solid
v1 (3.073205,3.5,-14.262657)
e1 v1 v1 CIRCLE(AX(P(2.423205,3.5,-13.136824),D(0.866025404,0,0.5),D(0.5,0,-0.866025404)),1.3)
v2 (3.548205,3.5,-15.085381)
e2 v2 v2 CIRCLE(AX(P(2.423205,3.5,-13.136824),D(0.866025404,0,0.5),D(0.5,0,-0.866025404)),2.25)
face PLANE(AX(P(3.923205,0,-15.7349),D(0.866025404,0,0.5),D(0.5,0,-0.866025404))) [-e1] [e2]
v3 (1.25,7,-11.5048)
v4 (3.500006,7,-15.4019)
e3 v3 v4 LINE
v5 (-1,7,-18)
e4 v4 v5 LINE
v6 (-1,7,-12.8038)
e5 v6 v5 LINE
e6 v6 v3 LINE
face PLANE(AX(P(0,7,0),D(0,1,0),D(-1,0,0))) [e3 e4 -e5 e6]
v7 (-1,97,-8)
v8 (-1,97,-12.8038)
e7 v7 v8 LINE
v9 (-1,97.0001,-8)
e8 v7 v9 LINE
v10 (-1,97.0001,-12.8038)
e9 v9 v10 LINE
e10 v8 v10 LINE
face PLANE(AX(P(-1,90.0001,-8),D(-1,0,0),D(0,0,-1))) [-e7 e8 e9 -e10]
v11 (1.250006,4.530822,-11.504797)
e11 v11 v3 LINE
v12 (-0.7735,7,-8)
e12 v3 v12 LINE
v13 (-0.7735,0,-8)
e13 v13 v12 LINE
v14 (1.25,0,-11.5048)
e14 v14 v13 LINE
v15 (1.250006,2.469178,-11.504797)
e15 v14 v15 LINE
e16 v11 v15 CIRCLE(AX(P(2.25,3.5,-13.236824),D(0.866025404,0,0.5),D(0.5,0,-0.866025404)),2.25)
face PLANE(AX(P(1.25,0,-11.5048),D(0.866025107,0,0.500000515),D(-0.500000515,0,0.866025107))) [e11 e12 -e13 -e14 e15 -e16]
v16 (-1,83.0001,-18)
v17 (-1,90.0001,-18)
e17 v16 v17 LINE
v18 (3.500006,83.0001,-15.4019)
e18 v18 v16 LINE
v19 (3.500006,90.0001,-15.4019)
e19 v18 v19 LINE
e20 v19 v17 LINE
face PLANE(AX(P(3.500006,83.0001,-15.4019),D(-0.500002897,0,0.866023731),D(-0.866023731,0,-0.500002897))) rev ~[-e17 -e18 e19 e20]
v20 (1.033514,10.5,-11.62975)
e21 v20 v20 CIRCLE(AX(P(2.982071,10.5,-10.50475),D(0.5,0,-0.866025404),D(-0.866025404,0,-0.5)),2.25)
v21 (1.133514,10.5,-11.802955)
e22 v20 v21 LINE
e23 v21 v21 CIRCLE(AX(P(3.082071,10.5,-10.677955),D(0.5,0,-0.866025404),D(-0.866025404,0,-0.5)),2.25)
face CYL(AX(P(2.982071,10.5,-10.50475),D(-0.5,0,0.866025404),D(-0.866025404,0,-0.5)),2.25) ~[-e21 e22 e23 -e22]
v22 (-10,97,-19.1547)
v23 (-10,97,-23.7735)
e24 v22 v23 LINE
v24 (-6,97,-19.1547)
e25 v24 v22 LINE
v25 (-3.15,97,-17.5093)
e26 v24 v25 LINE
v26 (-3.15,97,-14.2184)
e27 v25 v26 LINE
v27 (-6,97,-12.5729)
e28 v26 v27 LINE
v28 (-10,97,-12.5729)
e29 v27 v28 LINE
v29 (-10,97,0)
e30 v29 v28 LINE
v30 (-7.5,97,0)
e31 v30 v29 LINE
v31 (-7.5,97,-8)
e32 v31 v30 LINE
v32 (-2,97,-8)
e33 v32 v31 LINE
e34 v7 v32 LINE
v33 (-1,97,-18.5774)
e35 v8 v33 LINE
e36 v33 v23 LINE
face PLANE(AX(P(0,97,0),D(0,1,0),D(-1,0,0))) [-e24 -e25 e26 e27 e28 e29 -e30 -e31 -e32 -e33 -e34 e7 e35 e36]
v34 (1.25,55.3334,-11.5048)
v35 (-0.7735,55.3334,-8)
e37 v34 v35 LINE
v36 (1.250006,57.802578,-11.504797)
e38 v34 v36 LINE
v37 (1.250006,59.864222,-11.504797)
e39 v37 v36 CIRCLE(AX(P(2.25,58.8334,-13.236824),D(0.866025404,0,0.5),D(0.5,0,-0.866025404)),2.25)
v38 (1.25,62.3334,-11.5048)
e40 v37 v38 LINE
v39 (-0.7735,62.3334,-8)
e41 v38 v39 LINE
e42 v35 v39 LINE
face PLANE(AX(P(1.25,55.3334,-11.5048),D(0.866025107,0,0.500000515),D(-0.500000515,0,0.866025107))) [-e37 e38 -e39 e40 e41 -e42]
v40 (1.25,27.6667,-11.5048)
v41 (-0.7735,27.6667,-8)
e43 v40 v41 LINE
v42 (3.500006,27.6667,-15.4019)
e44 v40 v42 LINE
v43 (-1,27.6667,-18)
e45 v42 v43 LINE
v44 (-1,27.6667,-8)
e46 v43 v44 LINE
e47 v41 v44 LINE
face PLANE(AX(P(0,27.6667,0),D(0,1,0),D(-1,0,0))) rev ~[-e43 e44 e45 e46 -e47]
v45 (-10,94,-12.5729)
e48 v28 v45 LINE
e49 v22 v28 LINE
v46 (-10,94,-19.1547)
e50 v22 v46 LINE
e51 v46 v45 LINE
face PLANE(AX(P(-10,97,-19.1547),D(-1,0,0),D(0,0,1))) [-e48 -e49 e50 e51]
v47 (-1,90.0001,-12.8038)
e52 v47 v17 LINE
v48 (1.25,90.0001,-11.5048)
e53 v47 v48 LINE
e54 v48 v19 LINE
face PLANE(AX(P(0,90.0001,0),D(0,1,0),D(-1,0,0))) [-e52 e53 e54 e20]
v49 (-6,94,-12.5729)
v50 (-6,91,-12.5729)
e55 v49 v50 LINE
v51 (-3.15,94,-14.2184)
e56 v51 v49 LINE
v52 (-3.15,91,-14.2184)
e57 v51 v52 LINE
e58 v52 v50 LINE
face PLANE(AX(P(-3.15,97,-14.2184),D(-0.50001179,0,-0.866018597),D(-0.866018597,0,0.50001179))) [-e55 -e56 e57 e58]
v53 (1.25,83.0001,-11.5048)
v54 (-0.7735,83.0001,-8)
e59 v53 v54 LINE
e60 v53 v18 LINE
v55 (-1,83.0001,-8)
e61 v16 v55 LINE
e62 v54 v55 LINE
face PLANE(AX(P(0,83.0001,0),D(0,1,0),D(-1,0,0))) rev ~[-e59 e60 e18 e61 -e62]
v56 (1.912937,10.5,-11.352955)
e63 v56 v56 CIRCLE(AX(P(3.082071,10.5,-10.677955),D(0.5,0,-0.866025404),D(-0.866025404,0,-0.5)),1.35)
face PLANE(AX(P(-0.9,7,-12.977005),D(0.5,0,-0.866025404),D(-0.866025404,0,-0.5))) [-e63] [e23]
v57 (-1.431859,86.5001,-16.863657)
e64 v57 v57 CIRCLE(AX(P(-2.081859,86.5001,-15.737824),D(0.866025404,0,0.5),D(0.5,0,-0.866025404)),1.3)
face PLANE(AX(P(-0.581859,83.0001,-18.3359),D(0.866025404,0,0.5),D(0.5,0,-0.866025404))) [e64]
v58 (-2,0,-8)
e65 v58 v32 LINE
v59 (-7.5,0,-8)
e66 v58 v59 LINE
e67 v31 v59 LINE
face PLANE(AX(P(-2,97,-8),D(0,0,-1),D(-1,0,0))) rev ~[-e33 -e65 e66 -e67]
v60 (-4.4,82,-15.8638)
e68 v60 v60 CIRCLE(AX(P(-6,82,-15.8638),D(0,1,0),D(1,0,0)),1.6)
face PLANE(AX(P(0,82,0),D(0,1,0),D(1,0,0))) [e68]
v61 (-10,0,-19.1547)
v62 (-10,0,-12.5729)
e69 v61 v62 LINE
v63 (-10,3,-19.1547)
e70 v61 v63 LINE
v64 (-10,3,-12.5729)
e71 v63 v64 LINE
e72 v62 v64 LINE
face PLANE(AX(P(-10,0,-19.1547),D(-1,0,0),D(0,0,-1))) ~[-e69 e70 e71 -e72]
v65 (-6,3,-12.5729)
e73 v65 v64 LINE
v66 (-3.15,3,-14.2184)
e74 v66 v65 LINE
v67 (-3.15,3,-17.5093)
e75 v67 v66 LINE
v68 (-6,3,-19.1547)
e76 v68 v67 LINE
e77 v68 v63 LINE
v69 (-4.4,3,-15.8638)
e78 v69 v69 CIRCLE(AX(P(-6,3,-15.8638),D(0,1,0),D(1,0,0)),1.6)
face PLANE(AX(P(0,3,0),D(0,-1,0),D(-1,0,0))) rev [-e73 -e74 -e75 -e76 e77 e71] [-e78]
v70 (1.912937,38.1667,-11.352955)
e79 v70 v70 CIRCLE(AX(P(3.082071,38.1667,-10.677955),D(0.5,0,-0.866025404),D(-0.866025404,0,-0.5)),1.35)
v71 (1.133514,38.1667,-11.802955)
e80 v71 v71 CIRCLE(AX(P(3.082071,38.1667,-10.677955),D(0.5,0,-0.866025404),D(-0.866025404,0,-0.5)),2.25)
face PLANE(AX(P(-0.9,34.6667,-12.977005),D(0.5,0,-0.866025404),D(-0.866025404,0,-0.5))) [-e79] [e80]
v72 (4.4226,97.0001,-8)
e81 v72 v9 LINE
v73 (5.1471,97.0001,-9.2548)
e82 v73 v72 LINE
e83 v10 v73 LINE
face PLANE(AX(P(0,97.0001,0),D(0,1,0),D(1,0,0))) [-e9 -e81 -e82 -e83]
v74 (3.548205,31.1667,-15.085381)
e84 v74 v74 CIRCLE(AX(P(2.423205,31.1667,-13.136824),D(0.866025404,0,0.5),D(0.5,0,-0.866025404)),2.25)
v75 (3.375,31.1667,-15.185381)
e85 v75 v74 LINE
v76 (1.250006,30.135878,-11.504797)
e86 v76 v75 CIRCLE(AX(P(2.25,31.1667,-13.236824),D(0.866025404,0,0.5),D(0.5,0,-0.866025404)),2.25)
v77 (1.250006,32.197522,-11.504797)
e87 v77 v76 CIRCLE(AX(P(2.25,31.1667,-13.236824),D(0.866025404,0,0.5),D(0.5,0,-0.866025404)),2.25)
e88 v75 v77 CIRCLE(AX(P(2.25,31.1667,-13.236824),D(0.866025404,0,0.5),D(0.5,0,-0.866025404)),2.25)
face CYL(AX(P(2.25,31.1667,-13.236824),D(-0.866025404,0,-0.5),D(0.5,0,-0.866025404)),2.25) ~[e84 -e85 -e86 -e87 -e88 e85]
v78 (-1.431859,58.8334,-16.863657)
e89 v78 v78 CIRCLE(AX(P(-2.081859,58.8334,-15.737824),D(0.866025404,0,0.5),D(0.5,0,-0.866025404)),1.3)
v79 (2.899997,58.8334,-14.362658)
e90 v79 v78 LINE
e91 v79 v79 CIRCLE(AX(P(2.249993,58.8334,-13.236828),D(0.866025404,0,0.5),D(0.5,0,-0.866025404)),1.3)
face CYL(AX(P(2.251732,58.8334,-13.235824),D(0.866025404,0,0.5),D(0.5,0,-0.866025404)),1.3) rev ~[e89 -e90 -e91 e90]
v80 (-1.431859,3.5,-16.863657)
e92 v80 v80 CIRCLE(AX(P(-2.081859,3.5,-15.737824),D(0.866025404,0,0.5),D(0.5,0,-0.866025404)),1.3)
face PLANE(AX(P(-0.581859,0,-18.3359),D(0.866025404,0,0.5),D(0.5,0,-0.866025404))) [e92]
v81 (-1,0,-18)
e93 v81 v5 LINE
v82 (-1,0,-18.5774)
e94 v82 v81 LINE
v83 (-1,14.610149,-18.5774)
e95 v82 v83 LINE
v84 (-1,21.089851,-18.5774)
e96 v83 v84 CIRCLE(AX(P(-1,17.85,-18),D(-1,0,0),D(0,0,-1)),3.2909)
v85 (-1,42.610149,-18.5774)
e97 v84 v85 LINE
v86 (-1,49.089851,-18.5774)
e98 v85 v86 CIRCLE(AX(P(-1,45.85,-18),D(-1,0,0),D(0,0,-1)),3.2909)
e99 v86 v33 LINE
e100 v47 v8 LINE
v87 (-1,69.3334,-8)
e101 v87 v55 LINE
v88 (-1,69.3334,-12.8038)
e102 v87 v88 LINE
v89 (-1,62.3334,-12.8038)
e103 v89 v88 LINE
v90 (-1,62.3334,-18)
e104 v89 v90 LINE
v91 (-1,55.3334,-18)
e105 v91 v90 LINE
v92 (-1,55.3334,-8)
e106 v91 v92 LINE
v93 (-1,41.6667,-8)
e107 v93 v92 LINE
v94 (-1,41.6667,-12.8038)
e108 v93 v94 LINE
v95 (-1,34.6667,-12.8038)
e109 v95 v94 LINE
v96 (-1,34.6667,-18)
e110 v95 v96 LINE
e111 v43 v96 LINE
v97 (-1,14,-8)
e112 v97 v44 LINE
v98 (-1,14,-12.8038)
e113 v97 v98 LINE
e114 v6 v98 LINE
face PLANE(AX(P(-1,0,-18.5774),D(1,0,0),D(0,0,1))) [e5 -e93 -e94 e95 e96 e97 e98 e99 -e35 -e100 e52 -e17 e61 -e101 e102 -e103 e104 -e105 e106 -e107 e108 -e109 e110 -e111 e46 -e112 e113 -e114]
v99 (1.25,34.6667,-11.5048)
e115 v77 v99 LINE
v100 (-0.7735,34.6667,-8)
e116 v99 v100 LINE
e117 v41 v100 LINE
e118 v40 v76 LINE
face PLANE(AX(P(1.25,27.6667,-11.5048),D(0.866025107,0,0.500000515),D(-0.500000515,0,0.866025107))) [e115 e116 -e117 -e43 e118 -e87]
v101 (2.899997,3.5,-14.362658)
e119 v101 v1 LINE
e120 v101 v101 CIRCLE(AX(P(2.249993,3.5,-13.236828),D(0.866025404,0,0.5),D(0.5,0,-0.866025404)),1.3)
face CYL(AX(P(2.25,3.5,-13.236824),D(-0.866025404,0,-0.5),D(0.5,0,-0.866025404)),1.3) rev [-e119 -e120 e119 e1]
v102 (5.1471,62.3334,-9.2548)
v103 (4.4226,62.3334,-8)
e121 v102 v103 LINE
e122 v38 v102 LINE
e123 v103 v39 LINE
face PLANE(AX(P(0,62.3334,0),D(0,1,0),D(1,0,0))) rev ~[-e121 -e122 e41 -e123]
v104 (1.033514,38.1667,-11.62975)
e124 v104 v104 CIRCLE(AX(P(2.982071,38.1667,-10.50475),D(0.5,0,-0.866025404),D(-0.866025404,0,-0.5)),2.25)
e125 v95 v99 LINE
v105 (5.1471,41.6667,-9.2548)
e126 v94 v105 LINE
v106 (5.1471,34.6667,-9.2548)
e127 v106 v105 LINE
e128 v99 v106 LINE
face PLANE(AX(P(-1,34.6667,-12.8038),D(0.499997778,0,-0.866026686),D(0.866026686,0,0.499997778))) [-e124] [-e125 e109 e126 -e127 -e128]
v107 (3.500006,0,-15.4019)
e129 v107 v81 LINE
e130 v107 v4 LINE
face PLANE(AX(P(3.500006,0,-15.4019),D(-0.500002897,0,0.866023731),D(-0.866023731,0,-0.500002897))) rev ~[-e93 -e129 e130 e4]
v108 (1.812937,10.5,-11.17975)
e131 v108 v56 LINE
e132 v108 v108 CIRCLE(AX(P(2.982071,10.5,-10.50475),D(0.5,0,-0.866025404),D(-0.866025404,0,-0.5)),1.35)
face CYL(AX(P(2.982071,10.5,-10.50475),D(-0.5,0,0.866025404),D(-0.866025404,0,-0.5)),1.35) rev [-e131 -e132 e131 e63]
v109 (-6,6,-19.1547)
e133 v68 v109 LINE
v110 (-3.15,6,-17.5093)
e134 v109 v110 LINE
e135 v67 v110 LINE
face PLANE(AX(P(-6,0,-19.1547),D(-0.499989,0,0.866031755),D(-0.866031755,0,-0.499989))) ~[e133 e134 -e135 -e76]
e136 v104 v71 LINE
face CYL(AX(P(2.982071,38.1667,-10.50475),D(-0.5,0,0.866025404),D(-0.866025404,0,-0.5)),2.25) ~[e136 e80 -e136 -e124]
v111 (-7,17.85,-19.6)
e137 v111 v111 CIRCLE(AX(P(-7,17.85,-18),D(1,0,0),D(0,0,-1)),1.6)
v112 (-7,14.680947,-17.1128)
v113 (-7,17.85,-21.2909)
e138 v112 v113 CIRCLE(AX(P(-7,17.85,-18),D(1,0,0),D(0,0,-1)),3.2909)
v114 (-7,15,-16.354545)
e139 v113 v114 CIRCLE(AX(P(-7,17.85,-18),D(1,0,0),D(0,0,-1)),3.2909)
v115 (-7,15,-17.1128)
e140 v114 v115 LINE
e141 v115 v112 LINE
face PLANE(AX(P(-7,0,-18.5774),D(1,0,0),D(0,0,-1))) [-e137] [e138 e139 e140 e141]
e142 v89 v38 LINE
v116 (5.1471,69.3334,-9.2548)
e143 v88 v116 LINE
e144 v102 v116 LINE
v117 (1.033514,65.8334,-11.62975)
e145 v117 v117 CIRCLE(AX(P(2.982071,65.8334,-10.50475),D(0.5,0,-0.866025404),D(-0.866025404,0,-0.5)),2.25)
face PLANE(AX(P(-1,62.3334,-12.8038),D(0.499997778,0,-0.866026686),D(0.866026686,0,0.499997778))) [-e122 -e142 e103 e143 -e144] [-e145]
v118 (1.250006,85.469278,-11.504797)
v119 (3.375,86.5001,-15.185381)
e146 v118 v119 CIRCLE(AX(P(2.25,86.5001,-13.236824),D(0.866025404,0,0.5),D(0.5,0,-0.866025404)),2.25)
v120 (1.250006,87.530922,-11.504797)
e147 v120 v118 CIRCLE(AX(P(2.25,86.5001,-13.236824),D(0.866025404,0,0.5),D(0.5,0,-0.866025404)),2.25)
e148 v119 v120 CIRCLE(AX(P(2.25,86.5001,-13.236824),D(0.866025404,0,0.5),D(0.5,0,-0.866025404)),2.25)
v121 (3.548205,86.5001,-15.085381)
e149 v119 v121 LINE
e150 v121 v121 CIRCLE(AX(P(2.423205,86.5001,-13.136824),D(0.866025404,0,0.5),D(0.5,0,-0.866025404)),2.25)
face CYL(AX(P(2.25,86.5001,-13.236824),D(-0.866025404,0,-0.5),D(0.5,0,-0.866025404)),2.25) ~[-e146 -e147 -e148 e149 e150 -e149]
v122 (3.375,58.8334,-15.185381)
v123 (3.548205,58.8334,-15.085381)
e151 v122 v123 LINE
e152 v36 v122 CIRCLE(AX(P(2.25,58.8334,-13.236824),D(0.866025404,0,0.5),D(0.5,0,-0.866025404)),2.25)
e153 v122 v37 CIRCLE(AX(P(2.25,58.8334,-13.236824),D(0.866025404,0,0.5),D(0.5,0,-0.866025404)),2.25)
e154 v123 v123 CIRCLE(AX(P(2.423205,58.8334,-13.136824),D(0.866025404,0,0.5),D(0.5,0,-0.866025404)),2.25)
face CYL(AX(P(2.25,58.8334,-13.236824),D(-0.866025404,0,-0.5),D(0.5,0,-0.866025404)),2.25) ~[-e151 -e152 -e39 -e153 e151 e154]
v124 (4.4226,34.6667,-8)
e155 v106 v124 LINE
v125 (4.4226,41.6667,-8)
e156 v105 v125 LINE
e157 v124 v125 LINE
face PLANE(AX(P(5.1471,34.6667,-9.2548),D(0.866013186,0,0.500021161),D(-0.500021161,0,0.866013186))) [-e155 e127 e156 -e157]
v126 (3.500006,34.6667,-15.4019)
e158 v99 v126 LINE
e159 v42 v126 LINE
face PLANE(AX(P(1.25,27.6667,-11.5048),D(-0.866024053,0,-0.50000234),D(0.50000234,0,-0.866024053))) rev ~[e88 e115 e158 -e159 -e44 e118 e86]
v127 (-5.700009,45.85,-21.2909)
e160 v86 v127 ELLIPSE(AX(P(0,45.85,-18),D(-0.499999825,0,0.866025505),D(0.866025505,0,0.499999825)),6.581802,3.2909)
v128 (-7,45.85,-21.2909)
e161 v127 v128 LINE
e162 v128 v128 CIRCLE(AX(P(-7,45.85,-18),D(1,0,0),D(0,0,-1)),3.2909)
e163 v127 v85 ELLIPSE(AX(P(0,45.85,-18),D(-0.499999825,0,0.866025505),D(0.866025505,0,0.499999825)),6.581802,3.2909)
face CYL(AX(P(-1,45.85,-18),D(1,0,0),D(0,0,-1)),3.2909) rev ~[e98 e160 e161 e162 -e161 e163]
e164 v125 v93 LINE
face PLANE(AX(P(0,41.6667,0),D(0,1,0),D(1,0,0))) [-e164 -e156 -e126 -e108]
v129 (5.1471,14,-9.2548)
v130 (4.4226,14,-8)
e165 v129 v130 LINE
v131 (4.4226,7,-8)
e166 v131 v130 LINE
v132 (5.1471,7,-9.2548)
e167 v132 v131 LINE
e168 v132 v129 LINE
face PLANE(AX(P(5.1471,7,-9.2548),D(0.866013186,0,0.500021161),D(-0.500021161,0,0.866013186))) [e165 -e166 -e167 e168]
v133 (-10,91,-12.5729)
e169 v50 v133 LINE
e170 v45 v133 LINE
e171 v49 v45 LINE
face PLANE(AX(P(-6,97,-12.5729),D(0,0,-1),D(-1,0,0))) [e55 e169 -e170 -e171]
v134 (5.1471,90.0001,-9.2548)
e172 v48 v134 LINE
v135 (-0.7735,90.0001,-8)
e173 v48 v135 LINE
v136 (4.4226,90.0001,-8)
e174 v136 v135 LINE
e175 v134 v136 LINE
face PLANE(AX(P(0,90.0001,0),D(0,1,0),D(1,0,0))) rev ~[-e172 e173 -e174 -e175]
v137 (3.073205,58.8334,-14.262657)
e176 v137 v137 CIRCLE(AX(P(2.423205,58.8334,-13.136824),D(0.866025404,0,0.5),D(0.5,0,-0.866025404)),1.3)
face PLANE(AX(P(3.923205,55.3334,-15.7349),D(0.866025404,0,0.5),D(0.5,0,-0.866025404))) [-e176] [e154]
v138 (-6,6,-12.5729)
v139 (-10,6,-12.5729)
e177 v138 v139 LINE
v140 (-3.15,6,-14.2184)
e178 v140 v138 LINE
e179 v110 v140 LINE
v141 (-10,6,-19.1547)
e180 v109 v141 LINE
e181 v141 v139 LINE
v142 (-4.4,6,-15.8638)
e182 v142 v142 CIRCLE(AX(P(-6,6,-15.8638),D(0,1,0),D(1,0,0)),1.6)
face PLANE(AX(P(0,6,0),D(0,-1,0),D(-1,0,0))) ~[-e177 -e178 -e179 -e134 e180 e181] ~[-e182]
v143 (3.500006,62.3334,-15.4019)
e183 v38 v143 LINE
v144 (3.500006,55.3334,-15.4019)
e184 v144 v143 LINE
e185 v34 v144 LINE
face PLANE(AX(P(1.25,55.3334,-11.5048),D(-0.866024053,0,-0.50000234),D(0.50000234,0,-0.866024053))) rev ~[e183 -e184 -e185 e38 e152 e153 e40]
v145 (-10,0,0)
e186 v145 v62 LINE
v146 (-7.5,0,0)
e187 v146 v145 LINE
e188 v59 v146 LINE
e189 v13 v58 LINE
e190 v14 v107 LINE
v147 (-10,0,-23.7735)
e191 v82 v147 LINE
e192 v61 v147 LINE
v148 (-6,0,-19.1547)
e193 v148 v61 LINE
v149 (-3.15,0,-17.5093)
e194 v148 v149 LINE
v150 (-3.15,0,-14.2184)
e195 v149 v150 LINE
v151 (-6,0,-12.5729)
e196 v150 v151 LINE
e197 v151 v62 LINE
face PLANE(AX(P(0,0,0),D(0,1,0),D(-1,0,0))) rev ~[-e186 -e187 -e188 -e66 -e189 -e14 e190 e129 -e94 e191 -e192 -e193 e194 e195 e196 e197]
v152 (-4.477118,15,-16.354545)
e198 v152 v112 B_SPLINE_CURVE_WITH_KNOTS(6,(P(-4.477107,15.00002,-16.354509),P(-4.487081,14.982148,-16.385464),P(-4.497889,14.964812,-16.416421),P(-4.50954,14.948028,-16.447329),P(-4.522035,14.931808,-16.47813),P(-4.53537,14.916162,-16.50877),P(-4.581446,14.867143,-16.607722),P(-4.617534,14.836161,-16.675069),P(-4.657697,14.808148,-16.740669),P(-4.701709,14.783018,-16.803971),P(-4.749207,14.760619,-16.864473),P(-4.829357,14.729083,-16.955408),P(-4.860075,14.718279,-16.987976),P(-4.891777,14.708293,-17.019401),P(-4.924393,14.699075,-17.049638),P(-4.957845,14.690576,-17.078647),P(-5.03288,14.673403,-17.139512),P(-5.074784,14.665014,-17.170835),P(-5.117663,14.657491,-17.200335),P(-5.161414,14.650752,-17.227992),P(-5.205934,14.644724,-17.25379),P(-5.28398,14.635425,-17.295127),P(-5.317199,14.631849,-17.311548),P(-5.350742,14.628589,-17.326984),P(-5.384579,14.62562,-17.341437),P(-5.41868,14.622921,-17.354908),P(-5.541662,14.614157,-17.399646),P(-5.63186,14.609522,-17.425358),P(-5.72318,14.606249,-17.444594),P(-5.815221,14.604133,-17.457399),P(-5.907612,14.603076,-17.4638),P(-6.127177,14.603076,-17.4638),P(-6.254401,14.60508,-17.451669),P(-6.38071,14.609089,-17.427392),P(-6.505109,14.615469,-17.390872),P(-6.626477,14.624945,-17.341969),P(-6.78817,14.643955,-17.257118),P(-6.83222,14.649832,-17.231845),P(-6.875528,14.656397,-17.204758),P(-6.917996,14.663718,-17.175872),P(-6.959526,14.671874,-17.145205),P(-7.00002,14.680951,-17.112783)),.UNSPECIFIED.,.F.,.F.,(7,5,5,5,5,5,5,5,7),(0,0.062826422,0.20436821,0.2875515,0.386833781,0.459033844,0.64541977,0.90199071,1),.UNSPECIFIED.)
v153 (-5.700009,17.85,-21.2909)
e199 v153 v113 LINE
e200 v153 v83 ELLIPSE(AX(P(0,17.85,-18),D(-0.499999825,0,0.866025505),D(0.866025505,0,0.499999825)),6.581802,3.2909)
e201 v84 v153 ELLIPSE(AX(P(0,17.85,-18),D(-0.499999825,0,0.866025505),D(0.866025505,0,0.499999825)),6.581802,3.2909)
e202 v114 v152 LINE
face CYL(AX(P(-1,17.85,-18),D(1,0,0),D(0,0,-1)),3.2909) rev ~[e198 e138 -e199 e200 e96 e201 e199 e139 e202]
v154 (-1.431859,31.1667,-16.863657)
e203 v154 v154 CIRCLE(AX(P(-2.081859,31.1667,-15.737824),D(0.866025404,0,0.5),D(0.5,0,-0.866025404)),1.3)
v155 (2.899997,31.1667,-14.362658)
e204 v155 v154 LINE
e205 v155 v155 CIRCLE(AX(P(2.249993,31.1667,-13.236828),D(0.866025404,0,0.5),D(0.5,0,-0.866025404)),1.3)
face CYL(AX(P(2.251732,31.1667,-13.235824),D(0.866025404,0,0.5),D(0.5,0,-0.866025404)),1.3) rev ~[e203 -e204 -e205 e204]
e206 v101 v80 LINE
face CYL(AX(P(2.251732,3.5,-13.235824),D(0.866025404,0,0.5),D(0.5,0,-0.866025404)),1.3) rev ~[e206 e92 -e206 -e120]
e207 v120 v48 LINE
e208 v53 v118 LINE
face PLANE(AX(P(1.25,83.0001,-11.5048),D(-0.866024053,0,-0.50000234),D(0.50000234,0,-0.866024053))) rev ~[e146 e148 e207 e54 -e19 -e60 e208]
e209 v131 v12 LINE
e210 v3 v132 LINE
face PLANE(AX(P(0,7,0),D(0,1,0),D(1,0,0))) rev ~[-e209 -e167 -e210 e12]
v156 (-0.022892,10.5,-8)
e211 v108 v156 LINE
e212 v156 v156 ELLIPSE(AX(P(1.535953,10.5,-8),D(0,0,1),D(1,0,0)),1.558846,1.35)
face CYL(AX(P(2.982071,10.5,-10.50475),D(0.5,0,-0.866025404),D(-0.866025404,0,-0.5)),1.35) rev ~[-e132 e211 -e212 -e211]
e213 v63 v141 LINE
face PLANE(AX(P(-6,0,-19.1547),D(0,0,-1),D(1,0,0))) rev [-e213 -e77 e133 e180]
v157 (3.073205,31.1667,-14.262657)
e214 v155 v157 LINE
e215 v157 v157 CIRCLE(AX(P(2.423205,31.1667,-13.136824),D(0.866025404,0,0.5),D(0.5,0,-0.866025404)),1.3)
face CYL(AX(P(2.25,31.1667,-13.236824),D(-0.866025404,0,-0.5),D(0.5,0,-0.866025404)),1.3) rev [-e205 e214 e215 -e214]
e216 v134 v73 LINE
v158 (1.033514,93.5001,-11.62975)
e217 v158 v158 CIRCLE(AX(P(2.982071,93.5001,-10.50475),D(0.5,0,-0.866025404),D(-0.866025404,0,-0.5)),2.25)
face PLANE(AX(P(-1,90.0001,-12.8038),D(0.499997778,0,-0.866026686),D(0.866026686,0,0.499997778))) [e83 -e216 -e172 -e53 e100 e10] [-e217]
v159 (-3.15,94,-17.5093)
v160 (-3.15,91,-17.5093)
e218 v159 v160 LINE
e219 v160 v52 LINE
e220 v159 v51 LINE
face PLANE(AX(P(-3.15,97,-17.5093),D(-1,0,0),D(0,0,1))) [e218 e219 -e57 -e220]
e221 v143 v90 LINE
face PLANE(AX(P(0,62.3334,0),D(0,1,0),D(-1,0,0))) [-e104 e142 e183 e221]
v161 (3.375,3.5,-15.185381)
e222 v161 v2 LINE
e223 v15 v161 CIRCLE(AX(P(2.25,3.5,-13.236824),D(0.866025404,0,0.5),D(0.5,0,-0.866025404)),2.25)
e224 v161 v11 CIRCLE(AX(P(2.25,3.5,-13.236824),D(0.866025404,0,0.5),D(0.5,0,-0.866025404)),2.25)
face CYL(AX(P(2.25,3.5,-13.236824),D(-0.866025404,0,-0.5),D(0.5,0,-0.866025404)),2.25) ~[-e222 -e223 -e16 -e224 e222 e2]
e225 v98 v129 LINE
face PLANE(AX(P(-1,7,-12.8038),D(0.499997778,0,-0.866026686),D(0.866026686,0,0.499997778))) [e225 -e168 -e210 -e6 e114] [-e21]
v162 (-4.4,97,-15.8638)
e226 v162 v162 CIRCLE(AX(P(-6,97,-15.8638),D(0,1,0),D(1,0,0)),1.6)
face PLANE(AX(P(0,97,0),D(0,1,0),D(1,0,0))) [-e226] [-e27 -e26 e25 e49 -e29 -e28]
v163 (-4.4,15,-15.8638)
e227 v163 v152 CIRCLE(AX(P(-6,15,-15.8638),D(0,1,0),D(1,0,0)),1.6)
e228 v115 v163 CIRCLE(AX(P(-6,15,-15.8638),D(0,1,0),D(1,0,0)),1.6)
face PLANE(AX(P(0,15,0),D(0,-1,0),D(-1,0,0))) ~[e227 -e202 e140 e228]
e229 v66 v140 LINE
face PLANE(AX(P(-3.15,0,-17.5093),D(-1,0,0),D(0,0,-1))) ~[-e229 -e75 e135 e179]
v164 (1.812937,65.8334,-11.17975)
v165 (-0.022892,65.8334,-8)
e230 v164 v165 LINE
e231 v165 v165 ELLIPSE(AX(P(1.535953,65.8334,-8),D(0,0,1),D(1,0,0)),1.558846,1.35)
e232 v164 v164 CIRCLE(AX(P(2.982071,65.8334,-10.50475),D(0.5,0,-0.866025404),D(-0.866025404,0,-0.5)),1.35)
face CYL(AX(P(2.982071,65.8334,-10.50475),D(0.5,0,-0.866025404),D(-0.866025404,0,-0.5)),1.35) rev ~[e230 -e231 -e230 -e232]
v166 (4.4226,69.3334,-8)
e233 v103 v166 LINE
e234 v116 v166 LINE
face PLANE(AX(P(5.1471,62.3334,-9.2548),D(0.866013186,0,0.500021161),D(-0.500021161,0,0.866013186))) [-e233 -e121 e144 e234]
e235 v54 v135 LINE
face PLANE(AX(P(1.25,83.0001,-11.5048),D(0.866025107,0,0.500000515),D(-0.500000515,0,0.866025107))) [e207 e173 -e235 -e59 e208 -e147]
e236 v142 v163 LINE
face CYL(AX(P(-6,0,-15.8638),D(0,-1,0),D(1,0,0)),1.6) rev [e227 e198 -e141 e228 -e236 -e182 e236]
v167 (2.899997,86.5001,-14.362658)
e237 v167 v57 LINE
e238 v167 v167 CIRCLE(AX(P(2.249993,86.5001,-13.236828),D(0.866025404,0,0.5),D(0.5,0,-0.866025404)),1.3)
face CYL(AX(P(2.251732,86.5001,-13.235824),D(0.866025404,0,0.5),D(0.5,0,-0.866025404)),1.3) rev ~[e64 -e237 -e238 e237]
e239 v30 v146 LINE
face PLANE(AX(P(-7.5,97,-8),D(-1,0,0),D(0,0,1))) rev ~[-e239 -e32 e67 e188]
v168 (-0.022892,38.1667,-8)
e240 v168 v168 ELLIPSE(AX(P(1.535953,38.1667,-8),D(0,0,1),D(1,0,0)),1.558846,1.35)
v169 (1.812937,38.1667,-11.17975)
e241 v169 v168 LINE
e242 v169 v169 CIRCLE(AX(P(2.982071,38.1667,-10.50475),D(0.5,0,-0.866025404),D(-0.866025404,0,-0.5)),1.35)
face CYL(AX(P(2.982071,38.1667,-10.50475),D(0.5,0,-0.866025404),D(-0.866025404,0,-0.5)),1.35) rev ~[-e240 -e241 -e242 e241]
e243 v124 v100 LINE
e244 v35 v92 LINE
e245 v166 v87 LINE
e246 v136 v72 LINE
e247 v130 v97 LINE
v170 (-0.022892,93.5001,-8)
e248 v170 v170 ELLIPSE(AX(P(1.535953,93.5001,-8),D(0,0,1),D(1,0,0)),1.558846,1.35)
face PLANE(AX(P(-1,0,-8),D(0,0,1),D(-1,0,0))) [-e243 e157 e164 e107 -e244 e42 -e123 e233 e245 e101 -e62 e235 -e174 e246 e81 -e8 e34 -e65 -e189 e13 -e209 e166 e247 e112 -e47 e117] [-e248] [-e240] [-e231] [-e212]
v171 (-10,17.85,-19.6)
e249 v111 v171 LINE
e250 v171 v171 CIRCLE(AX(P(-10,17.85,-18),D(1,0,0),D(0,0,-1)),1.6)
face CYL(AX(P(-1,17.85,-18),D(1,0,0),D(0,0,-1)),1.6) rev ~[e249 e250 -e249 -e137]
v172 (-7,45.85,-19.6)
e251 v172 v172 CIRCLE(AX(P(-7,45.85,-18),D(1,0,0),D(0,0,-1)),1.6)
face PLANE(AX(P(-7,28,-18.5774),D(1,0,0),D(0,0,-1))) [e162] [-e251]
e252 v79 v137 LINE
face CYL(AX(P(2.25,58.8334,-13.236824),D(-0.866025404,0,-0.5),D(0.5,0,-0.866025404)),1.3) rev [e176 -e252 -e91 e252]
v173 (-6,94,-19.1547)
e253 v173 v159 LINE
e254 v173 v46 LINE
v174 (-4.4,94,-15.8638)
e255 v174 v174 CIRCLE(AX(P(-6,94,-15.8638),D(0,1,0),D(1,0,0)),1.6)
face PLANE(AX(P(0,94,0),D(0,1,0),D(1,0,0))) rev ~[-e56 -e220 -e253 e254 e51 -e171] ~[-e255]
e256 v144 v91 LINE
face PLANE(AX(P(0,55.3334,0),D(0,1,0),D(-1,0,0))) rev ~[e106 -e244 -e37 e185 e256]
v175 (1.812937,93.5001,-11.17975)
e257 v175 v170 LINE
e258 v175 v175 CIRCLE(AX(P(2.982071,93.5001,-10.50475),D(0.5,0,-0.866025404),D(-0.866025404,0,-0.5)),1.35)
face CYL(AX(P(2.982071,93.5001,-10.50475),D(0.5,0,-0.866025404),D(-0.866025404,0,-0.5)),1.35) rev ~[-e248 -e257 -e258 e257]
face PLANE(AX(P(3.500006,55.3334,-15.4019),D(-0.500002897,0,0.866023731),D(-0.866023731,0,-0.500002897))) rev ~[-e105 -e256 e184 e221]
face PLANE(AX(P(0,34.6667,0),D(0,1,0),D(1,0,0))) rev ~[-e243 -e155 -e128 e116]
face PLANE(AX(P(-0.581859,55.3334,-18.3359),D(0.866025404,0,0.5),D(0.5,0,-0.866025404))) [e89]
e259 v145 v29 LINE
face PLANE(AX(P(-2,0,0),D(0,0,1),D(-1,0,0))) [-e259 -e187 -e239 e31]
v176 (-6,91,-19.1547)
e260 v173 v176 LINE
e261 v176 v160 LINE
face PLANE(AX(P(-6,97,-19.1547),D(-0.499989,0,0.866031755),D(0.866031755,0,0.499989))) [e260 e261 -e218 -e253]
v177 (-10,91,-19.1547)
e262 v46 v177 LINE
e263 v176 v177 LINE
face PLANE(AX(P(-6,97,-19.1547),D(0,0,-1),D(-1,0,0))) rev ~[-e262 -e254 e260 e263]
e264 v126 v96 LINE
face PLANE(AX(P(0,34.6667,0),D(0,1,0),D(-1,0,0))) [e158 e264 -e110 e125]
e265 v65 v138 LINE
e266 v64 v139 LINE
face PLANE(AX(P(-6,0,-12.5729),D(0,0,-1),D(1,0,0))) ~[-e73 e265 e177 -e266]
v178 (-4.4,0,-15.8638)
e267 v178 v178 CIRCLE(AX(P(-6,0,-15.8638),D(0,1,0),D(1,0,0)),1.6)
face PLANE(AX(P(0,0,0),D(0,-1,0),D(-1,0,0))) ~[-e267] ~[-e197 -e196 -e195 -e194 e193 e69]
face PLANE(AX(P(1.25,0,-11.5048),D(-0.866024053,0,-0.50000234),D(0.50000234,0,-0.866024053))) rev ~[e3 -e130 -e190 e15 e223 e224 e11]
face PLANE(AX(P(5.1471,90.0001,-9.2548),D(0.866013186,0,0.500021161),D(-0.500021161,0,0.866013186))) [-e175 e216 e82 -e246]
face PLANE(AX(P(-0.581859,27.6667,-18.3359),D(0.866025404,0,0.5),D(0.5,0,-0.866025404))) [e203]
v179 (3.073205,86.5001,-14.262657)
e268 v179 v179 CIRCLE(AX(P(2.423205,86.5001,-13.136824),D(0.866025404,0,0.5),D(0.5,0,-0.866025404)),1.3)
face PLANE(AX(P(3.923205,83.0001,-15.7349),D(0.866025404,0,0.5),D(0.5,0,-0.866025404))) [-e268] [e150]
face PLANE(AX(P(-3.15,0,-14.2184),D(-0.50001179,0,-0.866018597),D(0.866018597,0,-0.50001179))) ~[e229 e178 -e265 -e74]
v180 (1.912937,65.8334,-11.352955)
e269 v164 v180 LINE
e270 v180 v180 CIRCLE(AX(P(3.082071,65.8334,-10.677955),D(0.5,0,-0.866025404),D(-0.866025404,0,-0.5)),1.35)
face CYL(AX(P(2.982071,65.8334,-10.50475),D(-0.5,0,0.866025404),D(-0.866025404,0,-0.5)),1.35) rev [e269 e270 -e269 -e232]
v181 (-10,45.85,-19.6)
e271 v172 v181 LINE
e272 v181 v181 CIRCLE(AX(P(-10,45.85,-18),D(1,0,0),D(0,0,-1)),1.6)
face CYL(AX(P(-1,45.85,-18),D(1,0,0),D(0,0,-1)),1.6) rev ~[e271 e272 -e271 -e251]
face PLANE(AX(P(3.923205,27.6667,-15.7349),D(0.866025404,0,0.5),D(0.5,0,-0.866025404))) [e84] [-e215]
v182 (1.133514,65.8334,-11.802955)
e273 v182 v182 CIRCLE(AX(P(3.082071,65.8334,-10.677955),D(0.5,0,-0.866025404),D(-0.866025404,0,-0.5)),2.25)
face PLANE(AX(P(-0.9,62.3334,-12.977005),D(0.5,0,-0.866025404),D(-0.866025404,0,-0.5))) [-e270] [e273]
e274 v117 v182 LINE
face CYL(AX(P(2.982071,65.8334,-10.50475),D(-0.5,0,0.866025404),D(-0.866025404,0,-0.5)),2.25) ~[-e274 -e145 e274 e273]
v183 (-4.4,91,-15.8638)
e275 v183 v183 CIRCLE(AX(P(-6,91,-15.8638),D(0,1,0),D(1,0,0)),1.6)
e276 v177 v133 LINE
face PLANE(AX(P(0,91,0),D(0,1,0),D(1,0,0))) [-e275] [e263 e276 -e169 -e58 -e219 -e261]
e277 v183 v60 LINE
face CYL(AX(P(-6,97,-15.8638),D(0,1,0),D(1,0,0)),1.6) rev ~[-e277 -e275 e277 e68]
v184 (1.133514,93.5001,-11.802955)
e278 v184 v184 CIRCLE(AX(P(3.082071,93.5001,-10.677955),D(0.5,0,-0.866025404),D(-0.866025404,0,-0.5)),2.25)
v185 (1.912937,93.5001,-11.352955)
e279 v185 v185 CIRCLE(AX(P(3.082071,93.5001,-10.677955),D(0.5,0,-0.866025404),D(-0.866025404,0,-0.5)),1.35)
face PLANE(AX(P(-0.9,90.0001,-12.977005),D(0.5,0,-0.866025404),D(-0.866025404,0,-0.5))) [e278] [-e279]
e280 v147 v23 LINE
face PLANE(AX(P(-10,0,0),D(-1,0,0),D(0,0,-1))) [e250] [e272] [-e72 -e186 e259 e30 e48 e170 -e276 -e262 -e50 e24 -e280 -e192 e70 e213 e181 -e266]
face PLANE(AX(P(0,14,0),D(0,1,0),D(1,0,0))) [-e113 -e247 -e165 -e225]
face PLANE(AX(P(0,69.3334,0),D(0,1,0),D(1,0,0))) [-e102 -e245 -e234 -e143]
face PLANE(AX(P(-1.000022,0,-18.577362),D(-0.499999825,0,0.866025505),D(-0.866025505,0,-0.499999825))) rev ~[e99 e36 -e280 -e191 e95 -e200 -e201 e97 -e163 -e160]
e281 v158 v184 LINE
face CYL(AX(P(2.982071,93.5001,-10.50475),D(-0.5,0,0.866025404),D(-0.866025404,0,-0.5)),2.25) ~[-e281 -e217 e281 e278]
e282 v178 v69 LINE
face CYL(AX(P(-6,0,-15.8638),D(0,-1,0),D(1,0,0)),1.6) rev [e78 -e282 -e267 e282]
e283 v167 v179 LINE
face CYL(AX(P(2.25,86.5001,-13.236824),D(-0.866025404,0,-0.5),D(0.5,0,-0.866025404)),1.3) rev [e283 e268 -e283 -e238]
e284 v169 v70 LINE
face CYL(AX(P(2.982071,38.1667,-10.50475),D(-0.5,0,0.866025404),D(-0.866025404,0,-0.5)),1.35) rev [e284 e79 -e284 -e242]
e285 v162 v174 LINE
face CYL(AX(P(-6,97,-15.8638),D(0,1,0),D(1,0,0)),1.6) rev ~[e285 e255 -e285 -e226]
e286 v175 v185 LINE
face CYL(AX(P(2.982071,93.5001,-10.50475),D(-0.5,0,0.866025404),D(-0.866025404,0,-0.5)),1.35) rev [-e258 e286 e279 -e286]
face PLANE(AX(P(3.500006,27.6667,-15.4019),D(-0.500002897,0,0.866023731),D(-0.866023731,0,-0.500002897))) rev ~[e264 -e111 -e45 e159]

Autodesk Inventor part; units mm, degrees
ref_plane "YZ Plane" through (0, 0, 0) normal (1, 0, 0) x (0, 1, 0)
ref_plane "XZ Plane" through (0, 0, 0) normal (0, 1, 0) x (-1, 0, 0)
sketch "スケッチ1" plane through (0, 0, 0) normal (0, 1, 0) x (-1, 0, 0)
  line L0 (0, 0) -> (10, 0)
  line L1 (10, 0) -> (10, -23.7735)
  line L2 (0, 0) -> (0, -18) construction
  line L3 (0, -18) -> (10, -23.7735)
  line L4 (1, -18.5774) -> (1, 0)
  line L5 (-5, 0) -> (-5, -8)
  line L6 (0, -18) -> (-8.0801, -13.3349)
  line L7 (-8.0801, -13.3349) -> (-5, -8)
  line L8 (1, -12.8038) -> (-5.5801, -9.0048)
  line L9 (-1.25, -11.5048) -> (-3.75, -15.8349)
  line L10 (-5, -8) -> (1, -8)
  line L11 (-5.1471, -9.2548) -> (-4.4226, -8)
  line L12 (-1.25, -11.5048) -> (0.7735, -8)
  line L13 (-7.8301, -12.9019) -> (1, -18)
  line L14 (1, -8) -> (2, -8)
  line L15 (2, -8) -> (2, 0)
  line L16 (2, 0) -> (1, 0)
  line L17 (1, 0) -> (1, -8)
  point P0 (-3.5, -15.4019)
  dimension "d0" = 18
  dimension "d1" = 10
  dimension "d2" = 60
  dimension "d3" = 1
  dimension "d6" = 8
  dimension "d7" = 5
  dimension "d8" = 5
  dimension "d9" = 5
  dimension "d10" = 0.5
  dimension "d35" = 0.5
  dimension "d38" = 1
extrude "押し出し1" add sketch "スケッチ1" along normal blind 97 contours L0 L1 L3 L4 L14 L15
extrude "押し出し2" add sketch "スケッチ1" along normal blind 7 contours L4 L8 L12 L10 | L4 L13 L9 L8
sketch "スケッチ2" plane through (0, 7, 0) normal (0, 1, 0) x (1, 0, 0)
  line L0 (-1, 12.8038) -> (5.5801, 9.0048) projected
  line L1 (5.1471, 9.2548) -> (4.4226, 8) projected
  line L2 (5, 8) -> (-1, 8) projected
  line L3 (-1, 8) -> (-1, 18) projected
  point P0 (0, 0)
  point P1 (-1, 18.5774)
extrude "押し出し3" add sketch "スケッチ2" along normal blind 7
sketch "スケッチ3" plane through (3.75, 0, -15.8349) normal (0.866, 0, 0.5) x (0.5, 0, -0.866)
  circle A0 centre (-3, 3.5) radius 3
  line L0 (0, 0) -> (0, 7)
  circle A1 centre (-3, 3.5) radius 1.3
  line L1 (-0.5, 0) -> (-0.5, 7) projected
  point P0 (-15.5885, 0)
  point P1 (0, 3.5)
  dimension "d15" = 6
  dimension "d16" = 2.6
  dimension "d36" = 0.5
extrude "押し出し4" cut sketch "スケッチ3" against normal blind 5 contours A1
sketch "スケッチ4" plane through (-1, 7, -12.8038) normal (0.5, 0, -0.866) x (-0.866, 0, -0.5)
  circle A0 centre (-4.5981, 3.5) radius 3
  line L0 (-7.5981, 0) -> (-7.5981, 7)
  circle A1 centre (-4.5981, 3.5) radius 1.35
  line L1 (-7.0981, 0) -> (-7.0981, 7) projected
  point P0 (-7.2679, -7)
  point P1 (-7.5981, 3.5)
  dimension "d19" = 6
  dimension "d20" = 2.7
  dimension "d37" = 0.5
extrude "押し出し5" cut sketch "スケッチ4" against normal up to surface contours A1 surface through (-2, 0, -8) normal (0, 0, 1)
sketch "スケッチ5" plane through (3.75, 0, -15.8349) normal (0.866, 0, 0.5) x (0.5, 0, -0.866)
  circle A0 centre (-3, 3.5) radius 1.3 projected
  line L0 (-9.047, 0) -> (-0.5, 0) projected
  line L1 (-5, 7) -> (-0.5, 7) projected
  line L2 (-9.047, 7) -> (-5, 7) projected
  line L3 (-9.047, 0) -> (-9.047, 7) projected
  circle A1 centre (-3, 3.5) radius 2.25
  line L4 (-0.5, 0) -> (-0.5, 7) projected
  point P0 (-15.5885, 0)
  dimension "d26" = 4.5
extrude "押し出し6" add sketch "スケッチ5" along normal blind 0.2 contours A1
sketch "スケッチ6" plane through (-1, 7, -12.8038) normal (0.5, 0, -0.866) x (-0.866, 0, -0.5)
  circle A0 centre (-4.5981, 3.5) radius 1.35 projected
  line L0 (-7.0981, 0) -> (-2.5981, 0) projected
  line L1 (0, 0) -> (-2.5981, 0) projected
  line L2 (0, 7) -> (0, 0) projected
  line L3 (-7.0981, 7) -> (0, 7) projected
  line L4 (-7.0981, 0) -> (-7.0981, 7) projected
  circle A1 centre (-4.5981, 3.5) radius 2.25
  point P0 (-7.2679, -7)
  dimension "d29" = 4.5
extrude "押し出し7" add sketch "スケッチ6" along normal blind 0.2 contours A1
pattern_linear "矩形状パターン2" count 4 spacing 27.6667 along (0, 1, 0) of "押し出し2", "押し出し3", "押し出し4", "押し出し5", "押し出し6", "押し出し7"
sketch "スケッチ7" plane through (0, 97, 0) normal (0, 1, 0) x (1, 0, 0)
  line L0 (-8.85, 6.6454) -> (-6, 8.2909)
  line L1 (-6, 8.2909) -> (-3.15, 6.6454)
  line L2 (-3.15, 6.6454) -> (-3.15, 3.3546)
  line L3 (-3.15, 3.3546) -> (-6, 1.7091)
  line L4 (-6, 1.7091) -> (-8.85, 3.3546)
  line L5 (-8.85, 3.3546) -> (-8.85, 6.6454)
  line L6 (-8.85, 14.2184) -> (-8.85, 17.5093)
  line L7 (-8.85, 17.5093) -> (-6, 19.1547)
  line L8 (-6, 19.1547) -> (-3.15, 17.5093)
  line L9 (-3.15, 17.5093) -> (-3.15, 14.2184)
  line L10 (-3.15, 14.2184) -> (-6, 12.5729)
  line L11 (-6, 12.5729) -> (-8.85, 14.2184)
  line L12 (-10, 0) -> (-2, 0) projected
  line L13 (-10, 0) -> (-10, 23.7735) projected
  line L14 (-6, 19.1547) -> (-10, 19.1547)
  line L15 (-6, 12.5729) -> (-10, 12.5729)
  line L16 (-6, 8.2909) -> (-10, 8.2909)
  line L17 (-6, 1.7091) -> (-10, 1.7091)
  line L18 (-1, 18.5774) -> (-10, 23.7735) projected
  circle A0 centre (-6, 15.8638) radius 1.6
  circle A1 centre (-6, 5) radius 1.6
  point P0 (0, 0)
  point P1 (-6, 0)
  dimension "d39" = 5.7
  dimension "d40" = 5
  dimension "d41" = 2
  dimension "d42" = 3.2
  dimension "d43" = 3.2
extrude "押し出し8" cut sketch "スケッチ7" against normal blind 15 contours A0
sketch "スケッチ9" plane through (0, 97, 0) normal (0, 1, 0) x (1, 0, 0)
  circle A0 centre (-6, 15.8638) radius 1.6 projected
  line L0 (-10, 23.7735) -> (-10, 0) projected
  line L1 (-10, 23.7735) -> (-10, 0) projected
  line L2 (-8.85, 14.2184) -> (-8.85, 17.5093)
  line L3 (-8.85, 17.5093) -> (-6, 19.1547)
  line L4 (-6, 19.1547) -> (-3.15, 17.5093)
  line L5 (-3.15, 17.5093) -> (-3.15, 14.2184)
  line L6 (-3.15, 14.2184) -> (-6, 12.5729)
  line L7 (-6, 12.5729) -> (-8.85, 14.2184)
  line L8 (-3.15, 3.3546) -> (-6, 1.7091)
  line L9 (-6, 1.7091) -> (-8.85, 3.3546)
  line L10 (-8.85, 3.3546) -> (-8.85, 6.6454)
  line L11 (-8.85, 6.6454) -> (-6, 8.2909)
  line L12 (-6, 8.2909) -> (-3.15, 6.6454)
  line L13 (-3.15, 6.6454) -> (-3.15, 3.3546)
  line L14 (-6, 19.1547) -> (-10, 19.1547)
  line L15 (-6, 12.5729) -> (-10, 12.5729)
  line L16 (-6, 8.2909) -> (-10, 8.2909)
  line L17 (-6, 1.7091) -> (-10, 1.7091)
  point P0 (0, 0)
  point P1 (-6, 5)
  point P2 (-6, 5)
  dimension "d46" = 5.7
extrude "押し出し9" cut sketch "スケッチ9" against normal blind 6 contours L14 L3 L2 L7 L15 L0 | L4 L5 L6 L7 L2 L3
extrude "押し出し10" add sketch "スケッチ9" against normal blind 3 contours L14 L3 L2 L7 L15 L0 | L4 L5 L6 L7 L2 L3
ref_plane "作業平面1" through (0, 48.5, 0) normal (0, 1, 0) x (1, 0, 0)
mirror "ミラー1" about plane through (0, 48.5, 0) normal (0, 1, 0) of "押し出し9", "押し出し10", "押し出し8"
sketch "スケッチ10" plane through (-1, 0, -18.5774) normal (1, 0, 0) x (0, 0, -1)
  line L0 (2.7135, 17.85) -> (1.0681, 15)
  line L1 (1.0681, 15) -> (-2.2228, 15)
  line L2 (-2.2228, 15) -> (-3.8682, 17.85)
  line L3 (-3.8682, 17.85) -> (-2.2228, 20.7)
  line L4 (-2.2228, 20.7) -> (1.0681, 20.7)
  line L5 (1.0681, 20.7) -> (2.7135, 17.85)
  line L6 (-18.5774, 0) -> (-10.5774, 0) projected
  circle A0 centre (-0.5774, 17.85) radius 1.6
  line L7 (-18.5774, 0) -> (-18.5774, 97) projected
  line L8 (1.0681, 20.7) -> (5.1962, 20.7)
  line L9 (5.1962, 20.7) -> (5.1962, 15)
  line L10 (5.1962, 15) -> (1.0681, 15)
  line L11 (5.1962, 0) -> (5.1962, 97) projected
  circle A1 centre (-0.5774, 17.85) radius 3.2909
  point P0 (-14.5774, 0)
  dimension "d52" = 5.7
  dimension "d53" = 15
  dimension "d54" = 3.2
  dimension "d64" = 18
extrude "押し出し11" cut sketch "スケッチ10" against normal blind 6 contours A1 L0 | L0 L1 L2 L3 L4 L5 | L5 A1 | A1 L1 | L4 A1 | A1 L2 | L3 A1 | A0
extrude "押し出し12" cut sketch "スケッチ10" against normal through all contours A0
pattern_linear "矩形状パターン3" count 2 spacing 28 along (0, 1, 0) of "押し出し11", "押し出し12"
sketch "スケッチ12" plane through (0, 97, 0) normal (0, 1, 0) x (1, 0, 0)
  line L0 (-2, 0) -> (-2, 8) projected
  line L1 (-2, 8) -> (-7.5, 8)
  line L2 (-7.5, 8) -> (-7.5, 0)
  line L3 (-7.5, 0) -> (-2, 0)
  line L4 (-2, 0) -> (-2, 8)
  line L5 (-10, 0) -> (-2, 0) projected
  line L6 (-10, 23.7735) -> (-10, 0) projected
  point P0 (0, 0)
  dimension "d65" = 2.5
  dimension "d68" = 8
extrude "押し出し14" cut sketch "スケッチ12" against normal through all
properties part number "base_bearingpole_front"
